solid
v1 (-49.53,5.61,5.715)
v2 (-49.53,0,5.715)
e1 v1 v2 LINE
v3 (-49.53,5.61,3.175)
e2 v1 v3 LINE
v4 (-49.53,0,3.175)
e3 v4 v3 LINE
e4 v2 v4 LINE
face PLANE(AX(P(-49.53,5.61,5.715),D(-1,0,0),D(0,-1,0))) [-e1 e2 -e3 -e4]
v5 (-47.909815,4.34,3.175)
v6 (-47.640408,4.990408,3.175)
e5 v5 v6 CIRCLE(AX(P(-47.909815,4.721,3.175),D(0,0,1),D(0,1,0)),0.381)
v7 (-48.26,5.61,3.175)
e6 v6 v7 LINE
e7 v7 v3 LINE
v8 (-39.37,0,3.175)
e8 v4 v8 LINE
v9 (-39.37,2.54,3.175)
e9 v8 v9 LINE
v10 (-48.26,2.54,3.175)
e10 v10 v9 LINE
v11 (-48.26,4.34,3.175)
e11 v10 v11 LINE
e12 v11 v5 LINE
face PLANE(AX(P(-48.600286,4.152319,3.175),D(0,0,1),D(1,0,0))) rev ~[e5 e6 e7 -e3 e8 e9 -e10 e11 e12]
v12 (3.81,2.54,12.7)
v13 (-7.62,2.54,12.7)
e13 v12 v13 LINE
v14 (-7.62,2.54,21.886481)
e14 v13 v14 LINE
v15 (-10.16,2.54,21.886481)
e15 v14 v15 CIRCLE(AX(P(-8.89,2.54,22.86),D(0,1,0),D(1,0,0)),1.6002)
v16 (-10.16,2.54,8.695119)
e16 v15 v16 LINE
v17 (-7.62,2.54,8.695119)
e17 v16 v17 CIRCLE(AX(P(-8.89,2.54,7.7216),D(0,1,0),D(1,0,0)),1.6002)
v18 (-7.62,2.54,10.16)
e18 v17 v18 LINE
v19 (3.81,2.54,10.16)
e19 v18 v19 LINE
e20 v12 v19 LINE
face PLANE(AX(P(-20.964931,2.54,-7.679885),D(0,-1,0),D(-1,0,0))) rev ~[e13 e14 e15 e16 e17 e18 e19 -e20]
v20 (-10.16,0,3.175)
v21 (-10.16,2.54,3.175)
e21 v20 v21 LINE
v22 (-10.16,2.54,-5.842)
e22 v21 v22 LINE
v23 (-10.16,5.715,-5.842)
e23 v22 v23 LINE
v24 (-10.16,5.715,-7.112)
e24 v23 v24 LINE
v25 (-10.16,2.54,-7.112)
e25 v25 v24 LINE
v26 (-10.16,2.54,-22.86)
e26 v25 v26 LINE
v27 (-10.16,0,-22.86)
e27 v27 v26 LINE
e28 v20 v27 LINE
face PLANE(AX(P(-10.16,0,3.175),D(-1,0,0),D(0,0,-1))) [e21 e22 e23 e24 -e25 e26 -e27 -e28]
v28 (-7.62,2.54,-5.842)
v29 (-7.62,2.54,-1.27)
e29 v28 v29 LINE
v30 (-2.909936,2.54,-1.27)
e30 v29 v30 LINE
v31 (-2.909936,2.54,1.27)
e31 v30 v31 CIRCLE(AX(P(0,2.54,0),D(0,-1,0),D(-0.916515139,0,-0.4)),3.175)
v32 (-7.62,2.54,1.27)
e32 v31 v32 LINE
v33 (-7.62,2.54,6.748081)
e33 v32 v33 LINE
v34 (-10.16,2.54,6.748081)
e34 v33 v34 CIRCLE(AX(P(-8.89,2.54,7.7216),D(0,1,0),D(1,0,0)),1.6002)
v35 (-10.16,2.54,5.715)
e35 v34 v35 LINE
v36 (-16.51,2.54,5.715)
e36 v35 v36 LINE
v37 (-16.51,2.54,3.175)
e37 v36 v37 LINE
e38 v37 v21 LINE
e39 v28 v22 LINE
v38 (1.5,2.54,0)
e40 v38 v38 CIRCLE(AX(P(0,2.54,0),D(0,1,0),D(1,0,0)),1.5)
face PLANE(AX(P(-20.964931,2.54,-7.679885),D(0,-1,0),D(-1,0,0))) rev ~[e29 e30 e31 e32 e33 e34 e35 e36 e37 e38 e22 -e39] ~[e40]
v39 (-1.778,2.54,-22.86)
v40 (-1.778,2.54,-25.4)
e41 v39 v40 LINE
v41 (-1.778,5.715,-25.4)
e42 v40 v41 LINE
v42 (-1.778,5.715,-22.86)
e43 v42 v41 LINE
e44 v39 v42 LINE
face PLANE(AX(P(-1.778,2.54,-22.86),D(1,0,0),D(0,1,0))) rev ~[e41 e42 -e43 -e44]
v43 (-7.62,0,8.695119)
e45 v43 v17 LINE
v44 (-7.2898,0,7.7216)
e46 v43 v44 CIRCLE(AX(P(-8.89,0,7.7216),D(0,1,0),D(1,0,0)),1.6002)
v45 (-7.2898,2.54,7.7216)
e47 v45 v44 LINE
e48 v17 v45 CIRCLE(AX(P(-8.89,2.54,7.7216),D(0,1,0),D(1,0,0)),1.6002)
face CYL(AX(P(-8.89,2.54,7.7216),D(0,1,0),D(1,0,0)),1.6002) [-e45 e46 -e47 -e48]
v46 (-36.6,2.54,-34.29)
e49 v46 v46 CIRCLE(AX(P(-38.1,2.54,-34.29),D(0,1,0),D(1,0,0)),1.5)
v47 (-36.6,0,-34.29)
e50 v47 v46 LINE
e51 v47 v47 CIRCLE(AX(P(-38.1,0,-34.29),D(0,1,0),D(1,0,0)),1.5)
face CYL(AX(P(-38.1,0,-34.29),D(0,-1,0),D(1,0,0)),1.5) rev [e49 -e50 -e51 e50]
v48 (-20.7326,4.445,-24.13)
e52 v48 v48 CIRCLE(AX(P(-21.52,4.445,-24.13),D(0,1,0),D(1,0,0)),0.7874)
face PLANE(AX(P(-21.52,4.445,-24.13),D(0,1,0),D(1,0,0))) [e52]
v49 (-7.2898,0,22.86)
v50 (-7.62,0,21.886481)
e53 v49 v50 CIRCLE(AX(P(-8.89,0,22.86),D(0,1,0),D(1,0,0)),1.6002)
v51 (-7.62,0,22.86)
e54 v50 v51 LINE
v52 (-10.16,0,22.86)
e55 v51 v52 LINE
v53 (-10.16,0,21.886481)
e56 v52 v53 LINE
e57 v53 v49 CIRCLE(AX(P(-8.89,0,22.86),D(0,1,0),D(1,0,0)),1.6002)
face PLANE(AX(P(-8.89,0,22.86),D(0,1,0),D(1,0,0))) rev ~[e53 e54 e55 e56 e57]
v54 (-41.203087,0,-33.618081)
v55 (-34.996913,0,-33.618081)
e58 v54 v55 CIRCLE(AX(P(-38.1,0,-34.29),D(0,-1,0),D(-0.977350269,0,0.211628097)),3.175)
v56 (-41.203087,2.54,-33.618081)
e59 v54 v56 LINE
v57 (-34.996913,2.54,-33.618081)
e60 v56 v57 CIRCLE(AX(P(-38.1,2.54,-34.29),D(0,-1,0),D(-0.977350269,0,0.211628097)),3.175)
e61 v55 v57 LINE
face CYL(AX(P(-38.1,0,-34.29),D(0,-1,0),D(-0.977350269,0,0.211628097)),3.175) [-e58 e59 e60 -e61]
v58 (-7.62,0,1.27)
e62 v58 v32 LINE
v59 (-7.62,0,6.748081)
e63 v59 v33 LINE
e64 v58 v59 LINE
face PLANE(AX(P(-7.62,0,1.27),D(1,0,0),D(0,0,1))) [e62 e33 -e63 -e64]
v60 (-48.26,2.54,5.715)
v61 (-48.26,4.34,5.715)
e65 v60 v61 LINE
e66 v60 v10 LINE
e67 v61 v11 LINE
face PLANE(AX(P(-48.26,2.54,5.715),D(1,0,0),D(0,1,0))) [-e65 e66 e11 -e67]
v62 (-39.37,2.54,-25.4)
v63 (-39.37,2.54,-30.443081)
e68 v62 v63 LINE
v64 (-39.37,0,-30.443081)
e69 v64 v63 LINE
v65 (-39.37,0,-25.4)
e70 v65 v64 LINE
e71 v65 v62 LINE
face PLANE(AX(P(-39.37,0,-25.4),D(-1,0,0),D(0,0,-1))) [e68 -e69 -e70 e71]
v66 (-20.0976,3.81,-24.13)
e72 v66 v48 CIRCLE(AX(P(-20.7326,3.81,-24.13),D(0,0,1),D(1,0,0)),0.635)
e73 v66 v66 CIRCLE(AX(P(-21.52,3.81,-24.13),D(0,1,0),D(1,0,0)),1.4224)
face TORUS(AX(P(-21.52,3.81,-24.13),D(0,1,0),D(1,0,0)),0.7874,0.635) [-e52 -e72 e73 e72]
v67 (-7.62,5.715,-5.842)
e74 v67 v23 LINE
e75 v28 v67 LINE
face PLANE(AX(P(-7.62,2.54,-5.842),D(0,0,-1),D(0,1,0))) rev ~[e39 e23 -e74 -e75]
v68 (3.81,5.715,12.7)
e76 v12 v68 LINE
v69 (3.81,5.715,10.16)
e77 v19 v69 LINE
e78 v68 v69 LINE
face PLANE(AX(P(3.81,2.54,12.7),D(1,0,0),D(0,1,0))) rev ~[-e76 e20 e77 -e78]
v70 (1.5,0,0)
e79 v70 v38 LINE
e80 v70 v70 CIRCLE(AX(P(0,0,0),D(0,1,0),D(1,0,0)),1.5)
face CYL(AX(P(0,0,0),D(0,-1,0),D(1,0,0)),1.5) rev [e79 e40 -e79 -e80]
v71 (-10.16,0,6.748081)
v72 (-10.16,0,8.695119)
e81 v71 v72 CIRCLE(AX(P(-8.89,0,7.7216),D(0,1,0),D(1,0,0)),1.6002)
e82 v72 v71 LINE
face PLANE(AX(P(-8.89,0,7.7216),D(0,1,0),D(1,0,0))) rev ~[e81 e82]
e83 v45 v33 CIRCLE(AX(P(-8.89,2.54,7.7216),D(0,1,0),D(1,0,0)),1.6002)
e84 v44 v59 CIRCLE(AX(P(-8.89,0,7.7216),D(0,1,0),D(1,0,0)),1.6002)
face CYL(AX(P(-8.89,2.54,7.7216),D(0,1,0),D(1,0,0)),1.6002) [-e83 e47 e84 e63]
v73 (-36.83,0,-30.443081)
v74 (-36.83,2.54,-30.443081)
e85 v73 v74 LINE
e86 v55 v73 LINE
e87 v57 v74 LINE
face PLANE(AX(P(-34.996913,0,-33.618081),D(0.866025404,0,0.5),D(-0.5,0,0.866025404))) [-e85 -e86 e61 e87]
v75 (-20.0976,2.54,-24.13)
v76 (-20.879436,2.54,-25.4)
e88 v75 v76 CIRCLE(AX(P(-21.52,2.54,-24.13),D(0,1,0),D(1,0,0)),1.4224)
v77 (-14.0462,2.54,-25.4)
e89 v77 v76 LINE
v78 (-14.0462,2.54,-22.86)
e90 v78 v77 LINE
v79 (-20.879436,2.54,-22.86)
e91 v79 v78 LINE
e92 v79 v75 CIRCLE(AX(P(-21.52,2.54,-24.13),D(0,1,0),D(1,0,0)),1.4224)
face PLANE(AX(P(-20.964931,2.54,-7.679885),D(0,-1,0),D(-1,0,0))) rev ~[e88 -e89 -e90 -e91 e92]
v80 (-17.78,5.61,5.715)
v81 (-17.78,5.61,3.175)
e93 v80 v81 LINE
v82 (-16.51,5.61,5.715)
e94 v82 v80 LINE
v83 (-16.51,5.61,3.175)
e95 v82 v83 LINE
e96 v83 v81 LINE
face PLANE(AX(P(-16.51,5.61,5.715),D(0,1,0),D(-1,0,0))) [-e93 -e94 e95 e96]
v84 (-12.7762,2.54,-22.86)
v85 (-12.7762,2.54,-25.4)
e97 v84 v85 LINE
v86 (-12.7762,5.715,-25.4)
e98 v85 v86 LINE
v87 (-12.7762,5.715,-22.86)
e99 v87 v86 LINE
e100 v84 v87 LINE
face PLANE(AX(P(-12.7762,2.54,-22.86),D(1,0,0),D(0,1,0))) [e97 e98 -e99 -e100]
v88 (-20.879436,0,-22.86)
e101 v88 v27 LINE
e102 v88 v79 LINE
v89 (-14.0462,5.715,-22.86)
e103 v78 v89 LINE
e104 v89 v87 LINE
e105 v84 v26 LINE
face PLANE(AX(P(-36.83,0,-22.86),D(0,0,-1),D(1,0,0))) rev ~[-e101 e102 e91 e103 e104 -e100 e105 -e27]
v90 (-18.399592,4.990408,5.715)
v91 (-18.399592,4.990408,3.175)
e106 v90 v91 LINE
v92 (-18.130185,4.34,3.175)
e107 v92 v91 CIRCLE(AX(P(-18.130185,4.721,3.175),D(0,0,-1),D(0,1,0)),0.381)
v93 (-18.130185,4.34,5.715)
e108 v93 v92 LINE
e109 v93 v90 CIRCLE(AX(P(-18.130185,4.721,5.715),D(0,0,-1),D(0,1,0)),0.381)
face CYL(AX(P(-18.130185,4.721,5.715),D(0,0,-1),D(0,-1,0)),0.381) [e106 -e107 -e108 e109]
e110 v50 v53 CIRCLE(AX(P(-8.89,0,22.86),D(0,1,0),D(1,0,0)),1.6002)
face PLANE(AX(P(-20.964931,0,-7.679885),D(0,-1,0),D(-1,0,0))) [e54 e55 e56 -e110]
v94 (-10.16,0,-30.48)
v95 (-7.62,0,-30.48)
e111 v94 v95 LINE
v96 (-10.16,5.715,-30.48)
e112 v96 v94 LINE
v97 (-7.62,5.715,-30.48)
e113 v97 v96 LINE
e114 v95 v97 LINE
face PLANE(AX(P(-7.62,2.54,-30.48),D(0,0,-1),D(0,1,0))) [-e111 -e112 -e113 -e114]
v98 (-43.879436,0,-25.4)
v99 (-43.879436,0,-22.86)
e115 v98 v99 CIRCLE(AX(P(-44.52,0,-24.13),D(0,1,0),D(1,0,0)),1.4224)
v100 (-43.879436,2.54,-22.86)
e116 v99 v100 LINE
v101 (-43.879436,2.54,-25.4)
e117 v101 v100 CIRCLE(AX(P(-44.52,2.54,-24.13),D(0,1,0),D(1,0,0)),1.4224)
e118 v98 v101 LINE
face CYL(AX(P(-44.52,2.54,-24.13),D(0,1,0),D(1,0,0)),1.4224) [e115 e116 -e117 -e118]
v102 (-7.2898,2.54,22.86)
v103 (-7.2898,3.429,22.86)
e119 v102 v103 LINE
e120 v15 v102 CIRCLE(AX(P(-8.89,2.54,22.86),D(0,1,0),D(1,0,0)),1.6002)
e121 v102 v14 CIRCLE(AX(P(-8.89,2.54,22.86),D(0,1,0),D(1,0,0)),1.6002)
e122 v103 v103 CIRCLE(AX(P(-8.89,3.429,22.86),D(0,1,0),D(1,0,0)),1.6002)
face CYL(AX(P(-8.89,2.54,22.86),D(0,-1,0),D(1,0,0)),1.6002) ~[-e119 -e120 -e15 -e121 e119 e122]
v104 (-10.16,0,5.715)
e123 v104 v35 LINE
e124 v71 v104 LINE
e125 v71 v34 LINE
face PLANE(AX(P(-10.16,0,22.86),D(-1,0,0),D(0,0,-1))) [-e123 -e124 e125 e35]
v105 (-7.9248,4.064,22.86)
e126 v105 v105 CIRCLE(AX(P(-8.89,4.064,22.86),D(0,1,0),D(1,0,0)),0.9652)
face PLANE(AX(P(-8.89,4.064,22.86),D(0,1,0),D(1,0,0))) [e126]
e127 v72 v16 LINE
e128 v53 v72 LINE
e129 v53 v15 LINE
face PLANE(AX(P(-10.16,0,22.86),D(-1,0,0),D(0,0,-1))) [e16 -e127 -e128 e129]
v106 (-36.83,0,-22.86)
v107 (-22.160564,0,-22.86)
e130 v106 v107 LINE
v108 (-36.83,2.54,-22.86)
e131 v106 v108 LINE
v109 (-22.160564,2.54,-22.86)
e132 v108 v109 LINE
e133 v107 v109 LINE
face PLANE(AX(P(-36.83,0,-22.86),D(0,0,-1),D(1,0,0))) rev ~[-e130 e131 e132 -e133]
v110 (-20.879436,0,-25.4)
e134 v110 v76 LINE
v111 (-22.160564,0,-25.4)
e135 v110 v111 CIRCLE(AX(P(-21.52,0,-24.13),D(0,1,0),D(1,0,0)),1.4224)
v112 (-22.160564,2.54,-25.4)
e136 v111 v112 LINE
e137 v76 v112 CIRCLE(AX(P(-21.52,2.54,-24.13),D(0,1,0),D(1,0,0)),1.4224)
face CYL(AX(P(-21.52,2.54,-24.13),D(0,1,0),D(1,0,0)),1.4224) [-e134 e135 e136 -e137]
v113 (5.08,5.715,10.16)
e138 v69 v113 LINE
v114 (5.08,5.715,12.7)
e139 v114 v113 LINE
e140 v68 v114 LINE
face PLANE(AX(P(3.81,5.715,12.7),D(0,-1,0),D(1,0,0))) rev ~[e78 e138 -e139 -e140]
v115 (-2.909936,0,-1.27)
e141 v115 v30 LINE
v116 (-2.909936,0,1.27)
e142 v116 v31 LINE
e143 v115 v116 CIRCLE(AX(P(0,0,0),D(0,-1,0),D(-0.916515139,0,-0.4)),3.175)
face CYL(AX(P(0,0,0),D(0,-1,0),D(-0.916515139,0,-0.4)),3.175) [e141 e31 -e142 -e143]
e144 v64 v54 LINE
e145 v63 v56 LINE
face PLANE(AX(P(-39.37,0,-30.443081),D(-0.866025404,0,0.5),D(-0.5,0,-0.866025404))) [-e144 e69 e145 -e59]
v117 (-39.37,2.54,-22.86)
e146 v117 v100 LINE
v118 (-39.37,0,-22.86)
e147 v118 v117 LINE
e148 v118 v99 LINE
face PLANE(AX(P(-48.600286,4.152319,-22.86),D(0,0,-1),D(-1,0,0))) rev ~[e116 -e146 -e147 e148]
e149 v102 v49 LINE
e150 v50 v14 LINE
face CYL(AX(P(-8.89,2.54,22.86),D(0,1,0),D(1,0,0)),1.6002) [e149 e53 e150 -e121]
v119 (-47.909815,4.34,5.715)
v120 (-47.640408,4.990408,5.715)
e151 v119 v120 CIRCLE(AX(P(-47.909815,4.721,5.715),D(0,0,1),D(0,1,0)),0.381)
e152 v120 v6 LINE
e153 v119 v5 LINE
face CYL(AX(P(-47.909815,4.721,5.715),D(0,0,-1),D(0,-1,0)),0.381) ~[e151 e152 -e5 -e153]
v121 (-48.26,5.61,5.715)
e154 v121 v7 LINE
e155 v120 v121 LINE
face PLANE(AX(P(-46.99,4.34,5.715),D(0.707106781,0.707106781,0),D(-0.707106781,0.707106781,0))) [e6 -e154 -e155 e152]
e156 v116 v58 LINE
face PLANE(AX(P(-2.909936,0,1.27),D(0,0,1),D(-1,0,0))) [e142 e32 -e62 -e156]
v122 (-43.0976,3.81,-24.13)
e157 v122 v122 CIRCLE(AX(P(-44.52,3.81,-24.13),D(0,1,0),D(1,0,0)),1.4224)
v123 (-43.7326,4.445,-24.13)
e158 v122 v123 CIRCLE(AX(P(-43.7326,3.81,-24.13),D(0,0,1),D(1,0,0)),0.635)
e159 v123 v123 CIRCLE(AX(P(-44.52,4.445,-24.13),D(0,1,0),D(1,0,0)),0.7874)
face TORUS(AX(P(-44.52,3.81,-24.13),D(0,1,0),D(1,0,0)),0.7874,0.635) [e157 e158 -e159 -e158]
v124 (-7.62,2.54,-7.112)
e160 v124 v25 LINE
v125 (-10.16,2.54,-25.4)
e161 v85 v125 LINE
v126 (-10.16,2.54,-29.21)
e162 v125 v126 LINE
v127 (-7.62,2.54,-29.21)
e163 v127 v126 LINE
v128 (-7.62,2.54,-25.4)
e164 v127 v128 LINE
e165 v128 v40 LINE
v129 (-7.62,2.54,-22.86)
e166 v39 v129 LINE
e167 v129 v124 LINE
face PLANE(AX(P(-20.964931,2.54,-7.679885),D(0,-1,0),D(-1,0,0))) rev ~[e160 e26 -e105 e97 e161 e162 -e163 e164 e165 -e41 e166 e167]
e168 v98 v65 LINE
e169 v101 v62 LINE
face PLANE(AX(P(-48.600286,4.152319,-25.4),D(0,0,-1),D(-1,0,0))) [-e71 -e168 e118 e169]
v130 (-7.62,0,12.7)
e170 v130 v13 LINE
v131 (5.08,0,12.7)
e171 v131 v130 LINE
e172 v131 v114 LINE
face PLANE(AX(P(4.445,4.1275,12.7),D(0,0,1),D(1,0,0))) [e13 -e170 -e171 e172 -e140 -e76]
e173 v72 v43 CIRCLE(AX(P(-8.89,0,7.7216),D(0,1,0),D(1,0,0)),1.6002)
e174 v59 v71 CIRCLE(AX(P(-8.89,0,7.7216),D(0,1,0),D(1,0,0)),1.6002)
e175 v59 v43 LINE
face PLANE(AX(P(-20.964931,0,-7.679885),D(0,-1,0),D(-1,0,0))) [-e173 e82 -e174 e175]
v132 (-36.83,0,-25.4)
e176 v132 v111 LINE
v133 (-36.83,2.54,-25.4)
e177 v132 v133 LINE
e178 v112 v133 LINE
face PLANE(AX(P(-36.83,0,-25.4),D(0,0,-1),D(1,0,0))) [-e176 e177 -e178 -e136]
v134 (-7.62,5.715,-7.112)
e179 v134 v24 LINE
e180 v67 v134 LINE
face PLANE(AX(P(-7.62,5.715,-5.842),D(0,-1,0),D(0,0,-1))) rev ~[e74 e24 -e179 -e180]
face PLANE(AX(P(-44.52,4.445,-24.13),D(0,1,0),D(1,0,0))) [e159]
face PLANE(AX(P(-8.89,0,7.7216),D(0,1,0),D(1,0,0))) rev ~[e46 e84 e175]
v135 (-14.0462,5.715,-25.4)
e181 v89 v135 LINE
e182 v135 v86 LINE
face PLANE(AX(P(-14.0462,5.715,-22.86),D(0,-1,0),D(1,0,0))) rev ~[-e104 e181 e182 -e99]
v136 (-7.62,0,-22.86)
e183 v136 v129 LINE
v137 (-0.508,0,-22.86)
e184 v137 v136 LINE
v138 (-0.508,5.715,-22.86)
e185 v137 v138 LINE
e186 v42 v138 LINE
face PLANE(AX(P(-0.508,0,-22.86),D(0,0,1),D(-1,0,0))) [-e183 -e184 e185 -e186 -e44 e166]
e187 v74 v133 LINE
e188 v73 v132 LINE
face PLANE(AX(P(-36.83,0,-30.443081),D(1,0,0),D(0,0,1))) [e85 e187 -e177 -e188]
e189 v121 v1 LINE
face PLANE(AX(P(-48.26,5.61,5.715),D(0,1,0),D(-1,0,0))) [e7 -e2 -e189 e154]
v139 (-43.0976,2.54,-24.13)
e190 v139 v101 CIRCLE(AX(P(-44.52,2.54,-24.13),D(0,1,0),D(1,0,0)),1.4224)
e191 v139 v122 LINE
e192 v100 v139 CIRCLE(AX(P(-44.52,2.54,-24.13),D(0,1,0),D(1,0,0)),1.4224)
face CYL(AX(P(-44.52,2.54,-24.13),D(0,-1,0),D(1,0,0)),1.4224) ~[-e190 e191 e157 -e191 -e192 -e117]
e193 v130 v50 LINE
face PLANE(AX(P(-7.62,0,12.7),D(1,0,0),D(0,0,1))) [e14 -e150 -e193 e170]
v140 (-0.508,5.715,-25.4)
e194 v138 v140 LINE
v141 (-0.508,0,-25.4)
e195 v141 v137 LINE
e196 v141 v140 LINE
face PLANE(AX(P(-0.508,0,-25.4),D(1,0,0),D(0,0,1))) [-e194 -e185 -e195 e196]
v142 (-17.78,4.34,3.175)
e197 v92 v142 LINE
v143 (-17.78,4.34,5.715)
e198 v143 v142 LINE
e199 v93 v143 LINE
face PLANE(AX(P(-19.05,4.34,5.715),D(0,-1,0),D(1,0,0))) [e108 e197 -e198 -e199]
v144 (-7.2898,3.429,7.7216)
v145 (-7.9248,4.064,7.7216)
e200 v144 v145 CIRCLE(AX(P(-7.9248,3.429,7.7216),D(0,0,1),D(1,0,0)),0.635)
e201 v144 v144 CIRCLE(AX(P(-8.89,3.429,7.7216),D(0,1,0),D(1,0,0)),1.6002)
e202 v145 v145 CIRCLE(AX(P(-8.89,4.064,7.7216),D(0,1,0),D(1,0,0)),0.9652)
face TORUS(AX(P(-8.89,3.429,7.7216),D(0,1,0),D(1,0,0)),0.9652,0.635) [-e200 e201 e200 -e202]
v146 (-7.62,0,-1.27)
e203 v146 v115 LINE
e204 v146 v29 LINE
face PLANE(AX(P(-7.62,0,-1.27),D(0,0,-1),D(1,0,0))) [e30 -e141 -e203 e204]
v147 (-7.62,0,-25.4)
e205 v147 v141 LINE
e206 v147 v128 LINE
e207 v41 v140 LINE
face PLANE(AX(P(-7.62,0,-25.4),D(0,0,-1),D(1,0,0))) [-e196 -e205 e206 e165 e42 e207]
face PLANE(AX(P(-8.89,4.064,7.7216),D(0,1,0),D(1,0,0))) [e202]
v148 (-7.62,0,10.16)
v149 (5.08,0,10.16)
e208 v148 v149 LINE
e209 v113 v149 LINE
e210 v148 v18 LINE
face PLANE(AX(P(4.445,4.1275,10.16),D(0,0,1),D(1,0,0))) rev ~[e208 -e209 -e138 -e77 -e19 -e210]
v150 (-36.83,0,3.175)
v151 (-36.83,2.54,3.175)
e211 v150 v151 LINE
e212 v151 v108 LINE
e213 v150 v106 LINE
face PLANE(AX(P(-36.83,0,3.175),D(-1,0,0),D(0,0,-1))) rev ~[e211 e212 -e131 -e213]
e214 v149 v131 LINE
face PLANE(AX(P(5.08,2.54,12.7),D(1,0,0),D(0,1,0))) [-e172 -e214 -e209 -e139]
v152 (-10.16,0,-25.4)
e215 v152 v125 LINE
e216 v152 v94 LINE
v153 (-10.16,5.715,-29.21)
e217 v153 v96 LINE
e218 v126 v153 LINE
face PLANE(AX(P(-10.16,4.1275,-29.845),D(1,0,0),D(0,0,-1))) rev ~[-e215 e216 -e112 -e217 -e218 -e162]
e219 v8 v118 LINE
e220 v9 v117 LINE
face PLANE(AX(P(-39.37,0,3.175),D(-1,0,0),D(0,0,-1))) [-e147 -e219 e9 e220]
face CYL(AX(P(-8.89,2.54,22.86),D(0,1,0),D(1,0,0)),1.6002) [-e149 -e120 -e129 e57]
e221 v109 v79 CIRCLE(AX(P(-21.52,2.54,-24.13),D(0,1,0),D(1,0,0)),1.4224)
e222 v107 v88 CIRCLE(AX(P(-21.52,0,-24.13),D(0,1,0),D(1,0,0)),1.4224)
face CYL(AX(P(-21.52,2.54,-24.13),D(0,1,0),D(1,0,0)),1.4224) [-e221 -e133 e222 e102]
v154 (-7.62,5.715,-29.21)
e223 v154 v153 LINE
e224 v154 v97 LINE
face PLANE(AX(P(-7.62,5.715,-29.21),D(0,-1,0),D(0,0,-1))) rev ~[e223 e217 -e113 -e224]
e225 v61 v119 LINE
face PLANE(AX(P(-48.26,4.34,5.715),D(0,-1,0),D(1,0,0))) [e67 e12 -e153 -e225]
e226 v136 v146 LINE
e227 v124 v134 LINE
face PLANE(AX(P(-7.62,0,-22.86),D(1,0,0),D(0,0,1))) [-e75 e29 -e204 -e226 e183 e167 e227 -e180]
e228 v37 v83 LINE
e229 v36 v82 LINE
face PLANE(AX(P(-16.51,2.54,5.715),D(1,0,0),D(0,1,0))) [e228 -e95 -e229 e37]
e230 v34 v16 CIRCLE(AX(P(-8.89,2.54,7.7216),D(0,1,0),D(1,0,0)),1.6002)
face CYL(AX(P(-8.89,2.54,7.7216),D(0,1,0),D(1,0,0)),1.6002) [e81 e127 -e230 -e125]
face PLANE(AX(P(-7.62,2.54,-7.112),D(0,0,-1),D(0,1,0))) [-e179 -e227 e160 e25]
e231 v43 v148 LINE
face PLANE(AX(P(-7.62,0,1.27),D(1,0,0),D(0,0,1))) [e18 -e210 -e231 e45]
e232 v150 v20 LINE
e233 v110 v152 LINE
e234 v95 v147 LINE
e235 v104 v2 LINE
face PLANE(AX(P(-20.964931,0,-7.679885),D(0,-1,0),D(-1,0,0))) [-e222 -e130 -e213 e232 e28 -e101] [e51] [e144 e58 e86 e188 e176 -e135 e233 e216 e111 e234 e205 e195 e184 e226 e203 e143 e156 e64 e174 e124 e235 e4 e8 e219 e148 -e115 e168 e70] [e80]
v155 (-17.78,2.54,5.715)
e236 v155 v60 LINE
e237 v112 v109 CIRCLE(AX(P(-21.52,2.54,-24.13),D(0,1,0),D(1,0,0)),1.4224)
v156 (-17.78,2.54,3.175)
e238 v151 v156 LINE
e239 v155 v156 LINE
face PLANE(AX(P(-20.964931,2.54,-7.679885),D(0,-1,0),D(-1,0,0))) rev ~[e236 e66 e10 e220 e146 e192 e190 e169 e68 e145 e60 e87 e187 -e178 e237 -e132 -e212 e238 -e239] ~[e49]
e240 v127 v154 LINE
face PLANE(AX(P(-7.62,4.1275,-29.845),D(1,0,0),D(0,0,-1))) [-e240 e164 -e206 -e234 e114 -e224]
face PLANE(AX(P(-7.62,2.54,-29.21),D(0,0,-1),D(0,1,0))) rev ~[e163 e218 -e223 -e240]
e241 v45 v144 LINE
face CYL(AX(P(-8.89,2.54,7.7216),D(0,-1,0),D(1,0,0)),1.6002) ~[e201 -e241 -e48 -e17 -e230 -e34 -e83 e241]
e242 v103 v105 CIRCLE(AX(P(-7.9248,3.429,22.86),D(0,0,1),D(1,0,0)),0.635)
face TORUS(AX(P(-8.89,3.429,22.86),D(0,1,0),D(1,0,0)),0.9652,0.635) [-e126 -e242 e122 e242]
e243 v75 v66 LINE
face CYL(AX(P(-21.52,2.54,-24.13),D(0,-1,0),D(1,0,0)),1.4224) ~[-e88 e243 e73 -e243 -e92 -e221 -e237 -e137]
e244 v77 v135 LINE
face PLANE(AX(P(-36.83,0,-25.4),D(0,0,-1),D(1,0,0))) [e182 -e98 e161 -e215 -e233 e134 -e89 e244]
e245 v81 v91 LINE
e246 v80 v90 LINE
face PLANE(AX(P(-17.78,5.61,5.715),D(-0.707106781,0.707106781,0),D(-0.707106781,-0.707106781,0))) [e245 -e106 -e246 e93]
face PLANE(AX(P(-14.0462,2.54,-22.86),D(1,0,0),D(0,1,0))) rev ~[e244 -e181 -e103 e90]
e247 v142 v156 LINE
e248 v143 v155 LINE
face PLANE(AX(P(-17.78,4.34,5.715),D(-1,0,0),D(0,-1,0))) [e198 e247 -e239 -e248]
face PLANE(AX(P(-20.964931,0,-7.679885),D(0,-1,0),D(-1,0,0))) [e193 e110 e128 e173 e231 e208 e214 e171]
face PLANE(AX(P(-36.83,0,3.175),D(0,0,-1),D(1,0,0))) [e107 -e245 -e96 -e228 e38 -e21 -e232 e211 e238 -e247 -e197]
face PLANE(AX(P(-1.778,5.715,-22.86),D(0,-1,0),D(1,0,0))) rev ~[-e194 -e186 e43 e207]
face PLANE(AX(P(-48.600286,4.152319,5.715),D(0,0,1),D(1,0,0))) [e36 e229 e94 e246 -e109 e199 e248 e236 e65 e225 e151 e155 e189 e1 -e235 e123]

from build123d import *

# Parameters (mm, degrees)
SKETCH1_R                = 1.5
SKETCH1_W                = 26.67
SKETCH1_H                = 26.035
BOSS_EXTRUDE1_DEPTH      = 2.54
SKETCH3_W                = 1.27
SKETCH3_H                = 3.175
BOSS_EXTRUDE3_DEPTH      = 2.54
BOSS_EXTRUDE4_DEPTH      = 2.54
SKETCH5_W                = 1.27
SKETCH5_H                = 3.175
BOSS_EXTRUDE5_DEPTH      = 2.54
SKETCH7_W                = 1.27
SKETCH7_H                = 3.175
BOSS_EXTRUDE6_DEPTH      = 2.54
FILLET1_R                = 0.381
CUT_EXTRUDE2_REACH       = 16.605
SKETCH11_W               = 4.50557805
SKETCH11_H               = 5.61
SKETCH11_W_2             = 2.400870557
SKETCH11_H_2             = 3.07
SKETCH8_R                = 1.4224
BOSS_EXTRUDE7_DEPTH      = 1.905
BOSS_EXTRUDE7_DEPTH_BACK = 2.54
SKETCH10_R               = 1.6002
BOSS_EXTRUDE8_DEPTH      = 1.524
BOSS_EXTRUDE8_DEPTH_BACK = 2.54
FILLET2_R                = 0.635


with BuildPart() as part:
    # Sketch1 → Boss-Extrude1 (new body)
    with BuildSketch(Plane(origin=(0, 0, 0), x_dir=(1, 0, 0), z_dir=(0, 1, 0))):
        with BuildLine():
            Line((-10.16, -22.86), (-10.16, -5.715))
            Line((-10.16, -5.715), (-49.53, -5.715))
            Line((-49.53, -5.715), (-49.53, -3.175))
            Line((-49.53, -3.175), (-39.37, -3.175))
            Line((-39.37, -3.175), (-39.37, 22.86))
            Line((-39.37, 22.86), (-49.53, 22.86))
            Line((-49.53, 22.86), (-49.53, 25.4))
            Line((-49.53, 25.4), (-39.37, 25.4))
            Line((-39.37, 25.4), (-39.37, 30.443080793))
            Line((-39.37, 30.443080793), (-41.203087105, 33.618080793))
            ThreePointArc((-41.203087105, 33.618080793), (-38.1, 37.465), (-34.996912895, 33.618080793))
            Line((-34.996912895, 33.618080793), (-36.83, 30.443080793))
            Line((-36.83, 30.443080793), (-36.83, 25.4))
            Line((-36.83, 25.4), (-10.16, 25.4))
            Line((-10.16, 25.4), (-10.16, 30.48))
            Line((-10.16, 30.48), (-7.62, 30.48))
            Line((-7.62, 30.48), (-7.62, 25.4))
            Line((-7.62, 25.4), (-0.508, 25.4))
            Line((-0.508, 25.4), (-0.508, 22.86))
            Line((-0.508, 22.86), (-7.62, 22.86))
            Line((-7.62, 22.86), (-7.62, 1.27))
            Line((-7.62, 1.27), (-2.909935566, 1.27))
            ThreePointArc((-2.909935566, 1.27), (3.175, 0), (-2.909935566, -1.27))
            Line((-2.909935566, -1.27), (-7.62, -1.27))
            Line((-7.62, -1.27), (-7.62, -10.16))
            Line((-7.62, -10.16), (5.08, -10.16))
            Line((5.08, -10.16), (5.08, -12.7))
            Line((5.08, -12.7), (-7.62, -12.7))
            Line((-7.62, -12.7), (-7.62, -22.86))
            Line((-7.62, -22.86), (-10.16, -22.86))
        make_face()
        with Locations((-38.1, 34.29)):
            Circle(SKETCH1_R, mode=Mode.SUBTRACT)
        Circle(SKETCH1_R, mode=Mode.SUBTRACT)
        with Locations((-23.495, 9.8425)):
            Rectangle(SKETCH1_W, SKETCH1_H, mode=Mode.SUBTRACT)
    extrude(amount=BOSS_EXTRUDE1_DEPTH)

    # Sketch3 → Boss-Extrude3 (add)
    with BuildSketch(Plane.XY.offset(-22.86)):
        Polygon((-49.53, 2.54), (-49.53, 5.61), (-48.26, 5.61), (-46.99, 4.34), (-48.26, 4.34), (-48.26, 2.54), align=None)
        with Locations((-1.143, 4.1275)):
            Rectangle(SKETCH3_W, SKETCH3_H)
        Polygon((-16.51, 2.54), (-17.78, 2.54), (-17.78, 4.34), (-19.05, 4.34), (-17.78, 5.61), (-16.51, 5.61), align=None)
        with Locations((-13.4112, 4.1275)):
            Rectangle(SKETCH3_W, SKETCH3_H)
    extrude(amount=-BOSS_EXTRUDE3_DEPTH)

    # Sketch4 → Boss-Extrude4 (add)
    with BuildSketch(Plane.XY.offset(5.715)):
        Polygon((-17.78, 2.54), (-16.51, 2.54), (-16.51, 5.61), (-17.78, 5.61), (-19.05, 4.34), (-17.78, 4.34), align=None)
        Polygon((-49.53, 2.54), (-48.26, 2.54), (-48.26, 4.34), (-46.99, 4.34), (-48.26, 5.61), (-49.53, 5.61), align=None)
    extrude(amount=-BOSS_EXTRUDE4_DEPTH)

    # Sketch5 → Boss-Extrude5 (add)
    with BuildSketch(Plane(origin=(-7.62, 0, 0), x_dir=(0, 0, -1), z_dir=(1, 0, 0))):
        with Locations((6.477, 4.1275)):
            Rectangle(SKETCH5_W, SKETCH5_H)
        with Locations((29.845, 4.1275)):
            Rectangle(SKETCH5_W, SKETCH5_H)
    extrude(amount=-BOSS_EXTRUDE5_DEPTH)

    # Sketch7 → Boss-Extrude6 (add)
    with BuildSketch(Plane.XY.offset(12.7)):
        with Locations((4.445, 4.1275)):
            Rectangle(SKETCH7_W, SKETCH7_H)
    extrude(amount=-BOSS_EXTRUDE6_DEPTH)

    # Fillet1
    fillet1_edges = [part.edges().sort_by_distance(p)[0] for p in [
        (-46.99, 4.34, -24.13),
        (-19.05, 4.34, -24.13),
        (-46.99, 4.34, 4.445),
        (-19.05, 4.34, 4.445),
    ]]
    fillet(fillet1_edges, radius=FILLET1_R)

    # Sketch11 → Cut-Extrude2 (cut, up to next)
    with BuildSketch(Plane.XY.offset(-22.86), mode=Mode.PRIVATE) as cut_extrude2_sk1:
        with Locations((-47.277210975, 2.805)):
            Rectangle(SKETCH11_W, SKETCH11_H)
    cut_extrude2_tool1 = extrude(cut_extrude2_sk1.sketch, amount=-CUT_EXTRUDE2_REACH, mode=Mode.PRIVATE) & part.part
    add(cut_extrude2_tool1.solids().sort_by_distance((-47.277211, 2.805, -22.86))[0], mode=Mode.SUBTRACT)
    # Sketch11 → Cut-Extrude2 (cut, up to next)
    with BuildSketch(Plane.XY.offset(-22.86), mode=Mode.PRIVATE) as cut_extrude2_sk2:
        with Locations((-17.710435279, 4.075)):
            Rectangle(SKETCH11_W_2, SKETCH11_H_2)
    cut_extrude2_tool2 = extrude(cut_extrude2_sk2.sketch, amount=-CUT_EXTRUDE2_REACH, mode=Mode.PRIVATE) & part.part
    add(cut_extrude2_tool2.solids().sort_by_distance((-17.710435, 4.075, -22.86))[0], mode=Mode.SUBTRACT)

    # Sketch8 → Boss-Extrude7 (add, two sides)
    with BuildSketch(Plane(origin=(0, 2.54, 0), x_dir=(1, 0, 0), z_dir=(0, 1, 0))) as boss_extrude7_sk:
        with Locations((-44.52, 24.13)):
            Circle(SKETCH8_R)
        with Locations((-21.52, 24.13)):
            Circle(SKETCH8_R)
    extrude(amount=BOSS_EXTRUDE7_DEPTH)
    extrude(boss_extrude7_sk.sketch, amount=-BOSS_EXTRUDE7_DEPTH_BACK)

    # Sketch10 → Boss-Extrude8 (add, two sides)
    with BuildSketch(Plane(origin=(0, 2.54, 0), x_dir=(1, 0, 0), z_dir=(0, 1, 0))) as boss_extrude8_sk:
        with Locations((-8.89, -7.7216)):
            Circle(SKETCH10_R)
        with Locations((-8.89, -22.86)):
            Circle(SKETCH10_R)
    extrude(amount=BOSS_EXTRUDE8_DEPTH)
    extrude(boss_extrude8_sk.sketch, amount=-BOSS_EXTRUDE8_DEPTH_BACK)

    # Fillet2
    fillet2_edges = [part.edges().sort_by_distance(p)[0] for p in [
        (-45.9424, 4.445, -24.13),
        (-22.9424, 4.445, -24.13),
        (-10.4902, 4.064, 7.7216),
        (-10.4902, 4.064, 22.86),
    ]]
    fillet(fillet2_edges, radius=FILLET2_R)


solid = part.part
